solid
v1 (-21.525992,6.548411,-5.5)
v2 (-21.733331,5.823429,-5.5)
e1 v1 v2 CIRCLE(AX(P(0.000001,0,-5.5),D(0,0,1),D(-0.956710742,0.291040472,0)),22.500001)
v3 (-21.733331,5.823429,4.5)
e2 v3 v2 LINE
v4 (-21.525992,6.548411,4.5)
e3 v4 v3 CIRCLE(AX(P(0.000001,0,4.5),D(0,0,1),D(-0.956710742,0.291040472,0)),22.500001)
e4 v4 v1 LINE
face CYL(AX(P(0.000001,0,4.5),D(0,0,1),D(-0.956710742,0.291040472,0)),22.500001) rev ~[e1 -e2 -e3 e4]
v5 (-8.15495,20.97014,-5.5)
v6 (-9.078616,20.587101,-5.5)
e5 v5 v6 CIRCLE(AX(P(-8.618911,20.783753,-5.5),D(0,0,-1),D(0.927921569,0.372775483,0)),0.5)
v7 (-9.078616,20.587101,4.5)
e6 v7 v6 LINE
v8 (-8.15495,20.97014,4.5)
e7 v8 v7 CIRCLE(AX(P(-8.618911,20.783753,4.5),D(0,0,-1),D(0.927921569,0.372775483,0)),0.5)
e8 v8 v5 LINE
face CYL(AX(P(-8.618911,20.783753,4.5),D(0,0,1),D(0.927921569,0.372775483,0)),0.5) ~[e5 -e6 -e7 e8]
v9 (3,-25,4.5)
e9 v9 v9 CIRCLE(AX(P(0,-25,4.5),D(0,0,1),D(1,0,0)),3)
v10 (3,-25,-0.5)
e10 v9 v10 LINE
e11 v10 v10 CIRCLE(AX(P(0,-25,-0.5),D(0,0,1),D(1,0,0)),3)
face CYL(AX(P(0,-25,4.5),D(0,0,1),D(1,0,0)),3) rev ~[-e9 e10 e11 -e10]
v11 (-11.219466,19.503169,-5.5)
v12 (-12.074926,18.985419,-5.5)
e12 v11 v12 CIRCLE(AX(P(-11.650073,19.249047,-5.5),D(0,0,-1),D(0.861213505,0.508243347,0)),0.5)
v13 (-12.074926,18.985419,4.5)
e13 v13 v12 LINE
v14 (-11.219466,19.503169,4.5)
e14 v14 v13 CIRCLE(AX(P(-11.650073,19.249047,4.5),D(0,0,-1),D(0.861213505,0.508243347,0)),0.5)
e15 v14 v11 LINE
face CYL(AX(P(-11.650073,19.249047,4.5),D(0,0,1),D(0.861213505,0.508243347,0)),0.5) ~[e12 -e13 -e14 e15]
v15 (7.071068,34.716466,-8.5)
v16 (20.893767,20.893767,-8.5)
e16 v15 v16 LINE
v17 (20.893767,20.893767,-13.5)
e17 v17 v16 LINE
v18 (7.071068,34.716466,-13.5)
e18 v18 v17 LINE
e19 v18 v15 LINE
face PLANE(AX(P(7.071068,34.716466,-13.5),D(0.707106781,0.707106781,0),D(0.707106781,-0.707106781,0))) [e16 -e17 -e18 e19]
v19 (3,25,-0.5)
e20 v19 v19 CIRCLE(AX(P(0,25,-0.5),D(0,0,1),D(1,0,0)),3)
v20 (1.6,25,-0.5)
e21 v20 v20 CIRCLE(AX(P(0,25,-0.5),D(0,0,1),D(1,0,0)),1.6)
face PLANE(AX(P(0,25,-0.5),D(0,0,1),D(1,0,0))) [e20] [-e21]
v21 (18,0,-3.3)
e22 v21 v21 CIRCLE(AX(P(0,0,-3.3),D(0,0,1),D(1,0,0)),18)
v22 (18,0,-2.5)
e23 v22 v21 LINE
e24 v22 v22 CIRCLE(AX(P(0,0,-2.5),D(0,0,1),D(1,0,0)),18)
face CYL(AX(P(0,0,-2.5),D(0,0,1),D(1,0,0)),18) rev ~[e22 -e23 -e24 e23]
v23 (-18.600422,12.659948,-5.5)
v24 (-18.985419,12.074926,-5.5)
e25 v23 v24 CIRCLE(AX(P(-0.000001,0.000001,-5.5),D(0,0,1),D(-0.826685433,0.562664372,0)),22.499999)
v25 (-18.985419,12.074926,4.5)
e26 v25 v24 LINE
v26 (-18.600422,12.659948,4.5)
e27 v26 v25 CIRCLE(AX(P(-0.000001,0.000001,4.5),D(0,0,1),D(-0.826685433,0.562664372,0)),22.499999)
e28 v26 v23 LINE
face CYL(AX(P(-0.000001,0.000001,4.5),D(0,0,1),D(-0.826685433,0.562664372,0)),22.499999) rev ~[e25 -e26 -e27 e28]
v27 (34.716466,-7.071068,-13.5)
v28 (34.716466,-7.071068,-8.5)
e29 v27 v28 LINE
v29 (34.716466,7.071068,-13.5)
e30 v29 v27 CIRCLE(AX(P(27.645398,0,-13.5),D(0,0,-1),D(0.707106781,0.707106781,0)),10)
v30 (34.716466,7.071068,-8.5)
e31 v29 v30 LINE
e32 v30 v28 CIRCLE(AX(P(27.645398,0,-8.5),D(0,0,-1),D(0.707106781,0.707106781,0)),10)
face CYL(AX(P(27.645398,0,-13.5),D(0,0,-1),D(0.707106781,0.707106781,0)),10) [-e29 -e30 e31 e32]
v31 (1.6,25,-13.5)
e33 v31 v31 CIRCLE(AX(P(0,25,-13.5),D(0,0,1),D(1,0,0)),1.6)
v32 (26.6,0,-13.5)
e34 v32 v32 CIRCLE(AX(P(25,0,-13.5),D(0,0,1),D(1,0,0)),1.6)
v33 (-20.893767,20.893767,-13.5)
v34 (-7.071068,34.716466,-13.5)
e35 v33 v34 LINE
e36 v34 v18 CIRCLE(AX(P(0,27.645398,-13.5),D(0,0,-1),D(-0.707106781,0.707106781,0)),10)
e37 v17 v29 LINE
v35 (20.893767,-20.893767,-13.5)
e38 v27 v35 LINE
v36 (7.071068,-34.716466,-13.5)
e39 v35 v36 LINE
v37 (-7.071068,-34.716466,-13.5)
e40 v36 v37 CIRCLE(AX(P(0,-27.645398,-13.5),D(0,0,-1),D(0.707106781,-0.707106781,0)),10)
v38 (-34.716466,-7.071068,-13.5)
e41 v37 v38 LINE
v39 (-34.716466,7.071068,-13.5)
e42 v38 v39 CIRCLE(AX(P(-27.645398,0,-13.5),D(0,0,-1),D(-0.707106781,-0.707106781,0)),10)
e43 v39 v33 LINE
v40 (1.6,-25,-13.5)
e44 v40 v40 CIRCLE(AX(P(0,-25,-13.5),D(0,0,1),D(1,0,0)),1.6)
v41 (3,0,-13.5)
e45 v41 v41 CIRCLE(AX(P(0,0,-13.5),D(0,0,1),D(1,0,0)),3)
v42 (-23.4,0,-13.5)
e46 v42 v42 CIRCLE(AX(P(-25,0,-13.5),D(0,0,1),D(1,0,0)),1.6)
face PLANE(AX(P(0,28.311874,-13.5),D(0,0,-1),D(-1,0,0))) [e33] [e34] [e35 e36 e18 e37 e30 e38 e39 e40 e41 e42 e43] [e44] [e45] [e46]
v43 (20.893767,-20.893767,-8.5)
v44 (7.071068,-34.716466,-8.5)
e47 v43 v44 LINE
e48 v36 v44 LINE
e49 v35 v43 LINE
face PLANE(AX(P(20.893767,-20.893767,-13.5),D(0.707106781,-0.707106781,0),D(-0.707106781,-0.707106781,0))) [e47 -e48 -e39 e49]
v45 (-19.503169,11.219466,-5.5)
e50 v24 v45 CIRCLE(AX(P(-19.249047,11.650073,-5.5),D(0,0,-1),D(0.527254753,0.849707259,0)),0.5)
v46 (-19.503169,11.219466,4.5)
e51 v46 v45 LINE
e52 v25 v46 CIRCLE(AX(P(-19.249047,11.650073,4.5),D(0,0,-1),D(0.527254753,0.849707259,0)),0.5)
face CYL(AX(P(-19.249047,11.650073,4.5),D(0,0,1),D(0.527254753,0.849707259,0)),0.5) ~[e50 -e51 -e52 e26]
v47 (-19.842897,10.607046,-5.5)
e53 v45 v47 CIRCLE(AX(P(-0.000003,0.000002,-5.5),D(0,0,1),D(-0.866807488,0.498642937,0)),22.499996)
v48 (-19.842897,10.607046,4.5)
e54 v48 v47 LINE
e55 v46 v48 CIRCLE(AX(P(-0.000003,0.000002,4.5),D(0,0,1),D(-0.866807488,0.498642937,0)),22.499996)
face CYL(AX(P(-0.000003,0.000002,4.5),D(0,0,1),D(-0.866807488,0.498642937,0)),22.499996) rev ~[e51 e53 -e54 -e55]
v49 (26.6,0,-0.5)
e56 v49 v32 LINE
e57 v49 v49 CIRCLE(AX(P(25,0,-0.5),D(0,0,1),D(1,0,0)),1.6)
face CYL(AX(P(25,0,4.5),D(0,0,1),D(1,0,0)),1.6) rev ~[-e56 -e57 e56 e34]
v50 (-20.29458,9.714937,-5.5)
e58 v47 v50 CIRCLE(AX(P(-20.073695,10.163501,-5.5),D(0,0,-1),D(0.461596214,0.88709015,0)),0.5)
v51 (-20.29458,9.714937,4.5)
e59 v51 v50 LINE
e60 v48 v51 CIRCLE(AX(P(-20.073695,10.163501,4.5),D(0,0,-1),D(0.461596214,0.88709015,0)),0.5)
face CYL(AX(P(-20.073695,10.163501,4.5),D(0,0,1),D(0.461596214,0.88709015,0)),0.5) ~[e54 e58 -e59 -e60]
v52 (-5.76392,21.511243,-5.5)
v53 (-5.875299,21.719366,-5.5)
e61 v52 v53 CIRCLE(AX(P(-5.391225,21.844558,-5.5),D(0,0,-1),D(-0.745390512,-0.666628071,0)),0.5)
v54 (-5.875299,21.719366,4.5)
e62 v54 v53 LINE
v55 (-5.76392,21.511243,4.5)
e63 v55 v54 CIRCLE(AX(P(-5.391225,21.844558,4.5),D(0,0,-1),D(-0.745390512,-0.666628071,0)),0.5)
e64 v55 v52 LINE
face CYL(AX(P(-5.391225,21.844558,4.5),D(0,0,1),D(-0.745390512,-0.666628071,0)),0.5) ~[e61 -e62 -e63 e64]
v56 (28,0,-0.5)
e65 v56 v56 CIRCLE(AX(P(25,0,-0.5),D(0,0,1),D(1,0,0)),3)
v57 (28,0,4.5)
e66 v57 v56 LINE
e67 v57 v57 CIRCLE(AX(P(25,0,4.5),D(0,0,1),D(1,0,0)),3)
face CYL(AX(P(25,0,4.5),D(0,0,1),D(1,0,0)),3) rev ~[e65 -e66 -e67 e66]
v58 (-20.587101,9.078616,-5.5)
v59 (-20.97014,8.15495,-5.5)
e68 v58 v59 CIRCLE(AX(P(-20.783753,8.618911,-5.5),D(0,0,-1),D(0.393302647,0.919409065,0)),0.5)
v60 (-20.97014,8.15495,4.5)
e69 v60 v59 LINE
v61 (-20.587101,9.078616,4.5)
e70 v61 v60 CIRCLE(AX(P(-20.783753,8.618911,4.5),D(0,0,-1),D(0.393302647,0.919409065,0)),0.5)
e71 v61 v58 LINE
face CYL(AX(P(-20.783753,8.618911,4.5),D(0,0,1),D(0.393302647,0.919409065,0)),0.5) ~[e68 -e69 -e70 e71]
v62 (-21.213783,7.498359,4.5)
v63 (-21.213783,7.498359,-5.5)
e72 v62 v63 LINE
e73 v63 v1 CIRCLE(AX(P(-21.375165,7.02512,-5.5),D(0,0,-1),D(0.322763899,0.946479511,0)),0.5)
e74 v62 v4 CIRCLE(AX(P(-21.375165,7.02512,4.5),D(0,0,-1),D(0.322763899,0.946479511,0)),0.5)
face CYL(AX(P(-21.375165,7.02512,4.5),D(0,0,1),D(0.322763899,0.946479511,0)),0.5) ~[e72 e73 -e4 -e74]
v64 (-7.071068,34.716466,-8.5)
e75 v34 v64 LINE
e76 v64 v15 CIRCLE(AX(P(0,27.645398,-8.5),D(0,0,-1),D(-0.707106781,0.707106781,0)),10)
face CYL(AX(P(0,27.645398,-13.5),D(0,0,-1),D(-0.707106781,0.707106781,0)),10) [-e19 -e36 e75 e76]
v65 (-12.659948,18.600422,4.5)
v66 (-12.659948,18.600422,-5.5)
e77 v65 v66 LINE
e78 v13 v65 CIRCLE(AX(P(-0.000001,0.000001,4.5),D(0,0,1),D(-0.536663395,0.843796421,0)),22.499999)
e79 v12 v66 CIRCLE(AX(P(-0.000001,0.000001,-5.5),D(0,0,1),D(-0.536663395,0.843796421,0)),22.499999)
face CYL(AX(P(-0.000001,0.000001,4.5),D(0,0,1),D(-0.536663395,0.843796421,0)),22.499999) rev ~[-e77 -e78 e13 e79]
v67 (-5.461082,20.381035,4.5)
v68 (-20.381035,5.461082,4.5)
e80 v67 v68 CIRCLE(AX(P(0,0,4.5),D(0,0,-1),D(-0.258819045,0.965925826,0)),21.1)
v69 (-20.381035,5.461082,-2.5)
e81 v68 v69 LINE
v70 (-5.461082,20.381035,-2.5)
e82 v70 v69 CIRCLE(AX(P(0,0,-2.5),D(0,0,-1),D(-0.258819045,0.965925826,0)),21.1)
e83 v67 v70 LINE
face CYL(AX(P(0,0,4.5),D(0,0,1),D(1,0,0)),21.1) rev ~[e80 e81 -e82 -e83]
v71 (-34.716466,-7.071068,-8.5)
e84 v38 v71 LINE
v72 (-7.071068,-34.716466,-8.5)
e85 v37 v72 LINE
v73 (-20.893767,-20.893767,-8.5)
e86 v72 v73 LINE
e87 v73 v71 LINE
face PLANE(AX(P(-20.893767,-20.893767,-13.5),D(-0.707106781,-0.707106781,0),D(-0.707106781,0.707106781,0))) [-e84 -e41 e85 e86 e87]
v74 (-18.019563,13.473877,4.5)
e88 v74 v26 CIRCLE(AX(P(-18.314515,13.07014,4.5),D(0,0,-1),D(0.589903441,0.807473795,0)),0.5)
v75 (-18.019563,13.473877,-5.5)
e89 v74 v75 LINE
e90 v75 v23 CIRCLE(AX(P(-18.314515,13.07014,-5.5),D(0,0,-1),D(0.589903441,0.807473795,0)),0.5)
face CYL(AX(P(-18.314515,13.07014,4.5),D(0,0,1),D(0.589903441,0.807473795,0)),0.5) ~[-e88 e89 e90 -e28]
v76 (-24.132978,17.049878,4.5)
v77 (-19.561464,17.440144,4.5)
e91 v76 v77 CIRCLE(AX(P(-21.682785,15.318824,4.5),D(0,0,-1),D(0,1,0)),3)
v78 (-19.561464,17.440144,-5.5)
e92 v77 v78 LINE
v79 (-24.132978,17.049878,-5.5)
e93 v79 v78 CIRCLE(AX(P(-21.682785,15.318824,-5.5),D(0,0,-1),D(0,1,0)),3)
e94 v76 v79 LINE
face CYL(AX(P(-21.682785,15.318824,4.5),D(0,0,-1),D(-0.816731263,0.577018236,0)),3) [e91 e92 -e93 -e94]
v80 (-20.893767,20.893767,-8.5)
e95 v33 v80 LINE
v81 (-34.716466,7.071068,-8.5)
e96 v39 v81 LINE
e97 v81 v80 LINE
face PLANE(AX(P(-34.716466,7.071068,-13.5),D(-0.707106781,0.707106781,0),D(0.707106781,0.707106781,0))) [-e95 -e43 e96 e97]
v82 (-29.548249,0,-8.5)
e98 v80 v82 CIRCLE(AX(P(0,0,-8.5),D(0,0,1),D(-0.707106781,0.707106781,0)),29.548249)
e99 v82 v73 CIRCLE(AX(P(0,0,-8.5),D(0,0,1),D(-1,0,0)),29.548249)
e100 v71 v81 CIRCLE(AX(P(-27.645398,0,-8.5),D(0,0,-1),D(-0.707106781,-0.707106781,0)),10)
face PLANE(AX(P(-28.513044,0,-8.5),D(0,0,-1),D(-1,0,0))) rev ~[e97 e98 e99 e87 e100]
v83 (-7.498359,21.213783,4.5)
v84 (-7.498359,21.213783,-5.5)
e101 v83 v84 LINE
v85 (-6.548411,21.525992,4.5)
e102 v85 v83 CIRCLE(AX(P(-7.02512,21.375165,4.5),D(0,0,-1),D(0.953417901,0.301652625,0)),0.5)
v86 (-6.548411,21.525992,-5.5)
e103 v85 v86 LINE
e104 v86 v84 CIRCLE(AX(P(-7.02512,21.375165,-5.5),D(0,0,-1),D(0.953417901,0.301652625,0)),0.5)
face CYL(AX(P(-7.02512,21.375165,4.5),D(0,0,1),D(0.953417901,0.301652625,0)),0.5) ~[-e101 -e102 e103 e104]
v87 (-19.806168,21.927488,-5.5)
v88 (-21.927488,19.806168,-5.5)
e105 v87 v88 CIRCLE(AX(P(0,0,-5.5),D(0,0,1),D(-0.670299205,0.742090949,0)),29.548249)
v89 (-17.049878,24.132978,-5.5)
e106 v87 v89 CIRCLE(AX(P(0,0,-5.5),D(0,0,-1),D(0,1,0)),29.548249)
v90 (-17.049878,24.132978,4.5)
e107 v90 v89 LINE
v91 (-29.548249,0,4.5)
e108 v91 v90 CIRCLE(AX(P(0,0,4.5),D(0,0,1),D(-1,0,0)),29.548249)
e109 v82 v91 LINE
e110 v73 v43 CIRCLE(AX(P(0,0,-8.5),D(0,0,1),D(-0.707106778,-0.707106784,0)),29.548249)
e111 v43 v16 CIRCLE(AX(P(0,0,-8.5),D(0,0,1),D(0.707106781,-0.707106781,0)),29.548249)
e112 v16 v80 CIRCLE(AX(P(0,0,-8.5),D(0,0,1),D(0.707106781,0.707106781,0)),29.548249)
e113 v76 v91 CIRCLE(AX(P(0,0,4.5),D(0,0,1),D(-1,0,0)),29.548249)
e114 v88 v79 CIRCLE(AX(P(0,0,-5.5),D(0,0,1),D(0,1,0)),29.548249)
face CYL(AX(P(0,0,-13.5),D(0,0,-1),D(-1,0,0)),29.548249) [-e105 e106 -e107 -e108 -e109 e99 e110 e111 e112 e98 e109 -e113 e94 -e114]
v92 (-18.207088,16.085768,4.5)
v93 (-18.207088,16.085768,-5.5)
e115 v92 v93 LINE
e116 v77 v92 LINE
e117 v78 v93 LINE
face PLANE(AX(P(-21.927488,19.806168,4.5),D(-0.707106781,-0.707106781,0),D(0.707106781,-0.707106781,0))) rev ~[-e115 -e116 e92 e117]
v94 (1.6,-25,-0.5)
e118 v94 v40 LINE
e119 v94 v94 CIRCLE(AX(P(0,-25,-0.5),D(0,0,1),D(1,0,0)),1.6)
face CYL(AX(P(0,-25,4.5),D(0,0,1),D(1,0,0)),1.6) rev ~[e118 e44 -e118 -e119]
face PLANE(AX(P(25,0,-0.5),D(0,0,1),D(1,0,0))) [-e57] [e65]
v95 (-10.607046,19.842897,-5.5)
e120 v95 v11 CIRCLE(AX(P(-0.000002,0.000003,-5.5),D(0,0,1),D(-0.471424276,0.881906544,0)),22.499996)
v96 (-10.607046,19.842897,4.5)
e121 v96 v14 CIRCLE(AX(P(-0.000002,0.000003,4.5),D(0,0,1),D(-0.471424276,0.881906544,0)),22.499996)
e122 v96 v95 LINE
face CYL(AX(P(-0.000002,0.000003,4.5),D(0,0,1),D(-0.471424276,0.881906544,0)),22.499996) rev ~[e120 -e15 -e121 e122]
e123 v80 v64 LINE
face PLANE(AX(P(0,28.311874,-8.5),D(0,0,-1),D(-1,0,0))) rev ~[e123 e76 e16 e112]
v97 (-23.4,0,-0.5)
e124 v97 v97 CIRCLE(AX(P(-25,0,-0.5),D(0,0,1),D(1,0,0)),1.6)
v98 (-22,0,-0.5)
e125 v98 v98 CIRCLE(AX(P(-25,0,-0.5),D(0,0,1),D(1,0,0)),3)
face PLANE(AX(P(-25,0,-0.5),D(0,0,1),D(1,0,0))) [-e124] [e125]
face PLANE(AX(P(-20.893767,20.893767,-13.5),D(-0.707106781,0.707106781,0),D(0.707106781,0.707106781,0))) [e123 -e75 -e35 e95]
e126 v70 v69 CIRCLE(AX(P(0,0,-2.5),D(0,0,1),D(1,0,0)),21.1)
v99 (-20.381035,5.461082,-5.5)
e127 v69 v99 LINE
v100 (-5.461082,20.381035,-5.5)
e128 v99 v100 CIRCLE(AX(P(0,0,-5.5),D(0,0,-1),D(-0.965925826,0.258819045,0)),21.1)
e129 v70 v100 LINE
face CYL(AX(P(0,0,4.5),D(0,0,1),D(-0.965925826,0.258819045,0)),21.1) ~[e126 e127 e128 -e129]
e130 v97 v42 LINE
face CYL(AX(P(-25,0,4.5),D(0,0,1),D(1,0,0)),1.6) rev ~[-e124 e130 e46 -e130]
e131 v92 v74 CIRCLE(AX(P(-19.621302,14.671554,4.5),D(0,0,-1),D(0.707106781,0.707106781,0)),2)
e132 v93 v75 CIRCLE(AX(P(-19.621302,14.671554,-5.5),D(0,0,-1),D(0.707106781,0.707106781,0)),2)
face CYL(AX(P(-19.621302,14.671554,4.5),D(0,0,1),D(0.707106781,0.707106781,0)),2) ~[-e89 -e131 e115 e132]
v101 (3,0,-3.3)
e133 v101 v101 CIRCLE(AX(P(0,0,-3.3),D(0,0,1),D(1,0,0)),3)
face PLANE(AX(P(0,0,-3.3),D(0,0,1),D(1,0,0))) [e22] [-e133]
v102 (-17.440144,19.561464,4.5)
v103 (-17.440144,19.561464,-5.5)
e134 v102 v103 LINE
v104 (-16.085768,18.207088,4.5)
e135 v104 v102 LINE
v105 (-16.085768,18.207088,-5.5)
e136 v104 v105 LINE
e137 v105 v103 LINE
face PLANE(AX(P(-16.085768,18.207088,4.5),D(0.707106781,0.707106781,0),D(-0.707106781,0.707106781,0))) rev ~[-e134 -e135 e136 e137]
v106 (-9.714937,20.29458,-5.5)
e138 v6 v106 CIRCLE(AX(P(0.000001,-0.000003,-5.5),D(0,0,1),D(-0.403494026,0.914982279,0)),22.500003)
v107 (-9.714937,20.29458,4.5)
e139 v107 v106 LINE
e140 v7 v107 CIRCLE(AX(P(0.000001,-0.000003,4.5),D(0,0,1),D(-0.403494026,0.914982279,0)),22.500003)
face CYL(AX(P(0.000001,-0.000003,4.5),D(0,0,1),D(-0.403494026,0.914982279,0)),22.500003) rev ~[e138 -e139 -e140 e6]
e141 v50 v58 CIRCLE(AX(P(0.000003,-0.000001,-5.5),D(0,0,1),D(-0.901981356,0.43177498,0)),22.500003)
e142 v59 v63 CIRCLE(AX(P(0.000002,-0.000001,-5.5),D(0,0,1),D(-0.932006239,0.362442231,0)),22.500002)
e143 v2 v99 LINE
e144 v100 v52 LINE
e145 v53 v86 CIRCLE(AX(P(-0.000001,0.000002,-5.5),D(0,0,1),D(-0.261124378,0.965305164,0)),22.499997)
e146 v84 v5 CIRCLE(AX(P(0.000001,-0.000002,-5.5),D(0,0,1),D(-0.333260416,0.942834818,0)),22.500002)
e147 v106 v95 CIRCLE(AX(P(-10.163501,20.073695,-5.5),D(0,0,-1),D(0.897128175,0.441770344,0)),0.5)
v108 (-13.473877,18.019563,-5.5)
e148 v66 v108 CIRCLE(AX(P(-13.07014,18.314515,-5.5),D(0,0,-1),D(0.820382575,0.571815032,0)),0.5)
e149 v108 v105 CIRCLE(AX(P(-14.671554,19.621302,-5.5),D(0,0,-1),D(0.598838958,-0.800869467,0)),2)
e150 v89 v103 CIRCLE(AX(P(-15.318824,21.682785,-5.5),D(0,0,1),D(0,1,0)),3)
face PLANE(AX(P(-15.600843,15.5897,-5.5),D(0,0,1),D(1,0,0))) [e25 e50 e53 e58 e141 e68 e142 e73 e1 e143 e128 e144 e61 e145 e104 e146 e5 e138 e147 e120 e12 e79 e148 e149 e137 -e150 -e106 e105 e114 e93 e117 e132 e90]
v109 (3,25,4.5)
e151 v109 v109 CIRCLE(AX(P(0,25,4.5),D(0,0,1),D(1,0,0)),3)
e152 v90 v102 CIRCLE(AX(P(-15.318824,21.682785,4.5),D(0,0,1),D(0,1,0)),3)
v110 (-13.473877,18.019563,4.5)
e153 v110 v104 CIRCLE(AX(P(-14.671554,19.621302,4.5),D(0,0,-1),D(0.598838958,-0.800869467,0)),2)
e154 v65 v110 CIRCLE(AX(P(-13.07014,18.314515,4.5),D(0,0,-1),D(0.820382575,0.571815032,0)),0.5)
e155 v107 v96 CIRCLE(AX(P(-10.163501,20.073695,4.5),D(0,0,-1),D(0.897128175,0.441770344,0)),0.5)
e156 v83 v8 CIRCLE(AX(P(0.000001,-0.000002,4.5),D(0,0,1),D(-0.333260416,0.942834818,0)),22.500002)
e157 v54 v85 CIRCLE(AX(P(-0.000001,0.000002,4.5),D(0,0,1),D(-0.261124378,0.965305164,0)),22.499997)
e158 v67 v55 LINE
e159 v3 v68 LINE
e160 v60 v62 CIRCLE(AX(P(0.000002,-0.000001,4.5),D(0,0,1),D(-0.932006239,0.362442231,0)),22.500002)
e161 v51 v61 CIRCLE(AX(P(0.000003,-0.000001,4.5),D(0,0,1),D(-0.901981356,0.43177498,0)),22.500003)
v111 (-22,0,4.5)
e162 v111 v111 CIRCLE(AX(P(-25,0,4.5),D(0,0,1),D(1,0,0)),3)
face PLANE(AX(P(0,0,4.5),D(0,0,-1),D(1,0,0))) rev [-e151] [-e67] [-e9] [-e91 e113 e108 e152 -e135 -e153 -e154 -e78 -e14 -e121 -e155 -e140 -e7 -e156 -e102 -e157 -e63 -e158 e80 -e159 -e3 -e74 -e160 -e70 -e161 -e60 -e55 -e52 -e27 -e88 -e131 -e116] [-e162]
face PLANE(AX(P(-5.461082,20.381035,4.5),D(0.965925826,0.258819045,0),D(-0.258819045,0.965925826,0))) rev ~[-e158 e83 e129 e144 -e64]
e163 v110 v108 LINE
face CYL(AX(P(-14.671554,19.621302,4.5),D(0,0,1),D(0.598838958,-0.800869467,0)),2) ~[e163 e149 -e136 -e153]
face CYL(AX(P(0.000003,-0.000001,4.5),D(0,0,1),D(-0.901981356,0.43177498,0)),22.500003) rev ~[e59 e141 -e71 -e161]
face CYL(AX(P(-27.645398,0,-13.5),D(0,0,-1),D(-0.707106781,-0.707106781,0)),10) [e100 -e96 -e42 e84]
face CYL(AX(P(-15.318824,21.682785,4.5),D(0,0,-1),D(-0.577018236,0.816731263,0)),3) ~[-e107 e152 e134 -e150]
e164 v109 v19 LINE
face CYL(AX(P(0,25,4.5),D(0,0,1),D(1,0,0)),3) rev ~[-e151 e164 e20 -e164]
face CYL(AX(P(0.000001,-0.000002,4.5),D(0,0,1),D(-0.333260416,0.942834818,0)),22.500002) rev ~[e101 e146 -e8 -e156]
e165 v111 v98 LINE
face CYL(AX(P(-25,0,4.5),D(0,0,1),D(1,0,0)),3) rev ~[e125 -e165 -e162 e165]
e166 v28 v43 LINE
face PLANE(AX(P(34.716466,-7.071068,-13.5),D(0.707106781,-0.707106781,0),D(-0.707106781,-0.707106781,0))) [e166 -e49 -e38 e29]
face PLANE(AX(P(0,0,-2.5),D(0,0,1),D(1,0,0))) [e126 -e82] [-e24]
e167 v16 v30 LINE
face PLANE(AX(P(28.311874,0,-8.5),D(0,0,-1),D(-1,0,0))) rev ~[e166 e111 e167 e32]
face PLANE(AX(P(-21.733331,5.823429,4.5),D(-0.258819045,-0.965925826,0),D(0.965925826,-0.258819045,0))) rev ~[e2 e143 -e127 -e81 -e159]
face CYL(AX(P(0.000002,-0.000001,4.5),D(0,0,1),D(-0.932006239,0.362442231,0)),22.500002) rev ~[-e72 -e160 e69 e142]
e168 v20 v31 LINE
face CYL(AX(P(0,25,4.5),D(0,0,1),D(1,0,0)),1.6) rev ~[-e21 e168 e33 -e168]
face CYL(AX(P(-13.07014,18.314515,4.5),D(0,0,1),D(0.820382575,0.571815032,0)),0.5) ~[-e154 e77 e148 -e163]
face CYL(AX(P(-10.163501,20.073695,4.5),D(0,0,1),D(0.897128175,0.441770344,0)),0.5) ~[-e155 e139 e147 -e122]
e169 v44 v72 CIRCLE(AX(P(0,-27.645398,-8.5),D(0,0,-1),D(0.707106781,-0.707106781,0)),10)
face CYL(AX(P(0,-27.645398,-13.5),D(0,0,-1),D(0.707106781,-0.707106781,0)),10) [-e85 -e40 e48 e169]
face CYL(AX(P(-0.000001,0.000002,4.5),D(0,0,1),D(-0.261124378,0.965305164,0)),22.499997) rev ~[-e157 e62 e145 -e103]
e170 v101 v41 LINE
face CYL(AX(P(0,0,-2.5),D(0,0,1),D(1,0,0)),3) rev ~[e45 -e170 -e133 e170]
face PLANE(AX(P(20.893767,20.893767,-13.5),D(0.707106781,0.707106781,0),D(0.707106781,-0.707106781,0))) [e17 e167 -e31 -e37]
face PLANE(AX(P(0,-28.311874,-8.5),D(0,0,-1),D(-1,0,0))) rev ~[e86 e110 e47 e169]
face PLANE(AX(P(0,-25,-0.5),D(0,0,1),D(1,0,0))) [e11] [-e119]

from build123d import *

# Parameters (mm, degrees)
SKETCH_01_W               = 8.999999864
SKETCH_01_H               = 30.367248618
CUT_EXTRUDE_01_DEPTH      = 4.499999932
CUT_EXTRUDE_01_DEPTH_BACK = 4.499999932
SKETCH_433_W              = 8.999999864
SKETCH_433_H              = 0.009842519
SKETCH_5_R                = 36.024182257
SKETCH_5_R_2              = 29.54824863
CUT_EXTRUDE_2_DEPTH       = 10
EXTRUDE_START             = 9
SKETCH_6_R                = 29.54824863
EXTRUDE_1_DEPTH           = 9
SKETCH_7_R                = 21.1
CUT_EXTRUDE_3_DEPTH       = 7
SKETCH_8_R                = 1.6
CUT_EXTRUDE_4_DEPTH       = 34
SKETCH_9_R                = 3
CUT_EXTRUDE_5_DEPTH       = 34
SKETCH_10_R               = 18
CUT_EXTRUDE_6_DEPTH       = 0.8
SKETCH_12_R               = 3
CUT_EXTRUDE_8_DEPTH       = 5
EXTRUDE_2_DEPTH           = 5
CUT_EXTRUDE_9_DEPTH       = 10
FILLET_1_R                = 3


with BuildPart() as part:
    # Sketch 01 → 同步带轮01 (revolve)
    with BuildSketch(Plane(origin=(0, 0, 0), x_dir=(0, 0, -1), z_dir=(1, 0, 0)), mode=Mode.PRIVATE) as revolve_01_sk:
        with Locations((0, 15.183624309)):
            Rectangle(SKETCH_01_W, SKETCH_01_H)
    revolve(revolve_01_sk.sketch.rotate(Axis((0, 0, 0), (0, 0, -1)), 90), axis=Axis((0, 0, 0), (0, 0, -1)))

    # Sketch 01 2 → 齿拉伸切除同步带轮01 (cut, two sides: drawn at the far end of the back side and taken through both)
    with BuildSketch(Plane.XY.offset(-CUT_EXTRUDE_01_DEPTH_BACK)):
        with BuildLine():
            Line((-0.813748126, 30.356343696), (0, 32.907248579))
            Line((0, 32.907248579), (0.813748126, 30.356343696))
            ThreePointArc((0.813748126, 30.356343696), (0.662957144, 30.297406109), (0.599999991, 30.148248621))
            ThreePointArc((0.599999991, 30.148248621), (0, 29.54824863), (-0.599999991, 30.148248621))
            ThreePointArc((-0.599999991, 30.148248621), (-0.662957144, 30.297406109), (-0.813748126, 30.356343696))
        make_face()
    extrude(amount=CUT_EXTRUDE_01_DEPTH + CUT_EXTRUDE_01_DEPTH_BACK, mode=Mode.SUBTRACT)

    # Sketch 433 → Cut-Revolve 471 (revolve, cut)
    with BuildSketch(Plane(origin=(0, 0, 0), x_dir=(0, 0, -1), z_dir=(1, 0, 0)), mode=Mode.PRIVATE) as cut_revolve_471_sk:
        with Locations((0, 0.00492126)):
            Rectangle(SKETCH_433_W, SKETCH_433_H)
    revolve(cut_revolve_471_sk.sketch.rotate(Axis((0, 0, 0), (0, 0, -1)), 90), axis=Axis((0, 0, 0), (0, 0, -1)), mode=Mode.SUBTRACT)

    # 草图5 → 切除-拉伸2 (cut)
    with BuildSketch(Plane(origin=(0, 0, -4.499999932), x_dir=(-1, 0, 0), z_dir=(0, 0, -1))):
        Circle(SKETCH_5_R)
        Circle(SKETCH_5_R_2, mode=Mode.SUBTRACT)
    extrude(amount=-CUT_EXTRUDE_2_DEPTH, mode=Mode.SUBTRACT)

    # 草图6 → 凸台-拉伸1 (add)
    with BuildSketch(Plane(origin=(0, 0, -4.499999932), x_dir=(-1, 0, 0), z_dir=(0, 0, -1)).offset(EXTRUDE_START)):
        Circle(SKETCH_6_R)
    extrude(amount=-EXTRUDE_1_DEPTH)

    # 草图7 → 切除-拉伸3 (cut)
    with BuildSketch(Plane.XY.offset(4.499999932)):
        Circle(SKETCH_7_R)
    extrude(amount=-CUT_EXTRUDE_3_DEPTH, mode=Mode.SUBTRACT)

    # 草图8 → 切除-拉伸4 (cut)
    with BuildSketch(Plane.XY.offset(4.499999932)):
        with Locations((0, 25)):
            Circle(SKETCH_8_R)
        with Locations((25, 0)):
            Circle(SKETCH_8_R)
        with Locations((0, -25)):
            Circle(SKETCH_8_R)
        with Locations((-25, 0)):
            Circle(SKETCH_8_R)
    extrude(amount=-CUT_EXTRUDE_4_DEPTH, mode=Mode.SUBTRACT)

    # 草图9 → 切除-拉伸5 (cut)
    with BuildSketch(Plane.XY.offset(-2.500000068)):
        Circle(SKETCH_9_R)
    extrude(amount=-CUT_EXTRUDE_5_DEPTH, mode=Mode.SUBTRACT)

    # 草图10 → 切除-拉伸6 (cut)
    with BuildSketch(Plane.XY.offset(-2.500000068)):
        Circle(SKETCH_10_R)
    extrude(amount=-CUT_EXTRUDE_6_DEPTH, mode=Mode.SUBTRACT)

    # 草图12 → 切除-拉伸8 (cut)
    with BuildSketch(Plane.XY.offset(4.499999932)):
        with Locations((0, -25)):
            Circle(SKETCH_12_R)
        with Locations((-25, 0)):
            Circle(SKETCH_12_R)
        with Locations((0, 25)):
            Circle(SKETCH_12_R)
        with Locations((25, 0)):
            Circle(SKETCH_12_R)
    extrude(amount=-CUT_EXTRUDE_8_DEPTH, mode=Mode.SUBTRACT)

    # 草图13 → 凸台-拉伸2 (add)
    with BuildSketch(Plane(origin=(0, 0, -13.499999932), x_dir=(-1, 0, 0), z_dir=(0, 0, -1))):
        with BuildLine():
            Line((-7.071067812, 34.716466145), (-20.893766978, 20.893766978))
            ThreePointArc((-20.893766978, 20.893766978), (0, 29.54824863), (20.893766978, 20.893766978))
            Line((20.893766978, 20.893766978), (7.071067812, 34.716466145))
            ThreePointArc((7.071067812, 34.716466145), (0, 37.645398333), (-7.071067812, 34.716466145))
        make_face()
        with BuildLine():
            Line((-34.716466145, -7.071067812), (-20.893766978, -20.893766978))
            ThreePointArc((-20.893766978, -20.893766978), (-29.54824863, 0), (-20.893766978, 20.893766978))
            Line((-20.893766978, 20.893766978), (-34.716466145, 7.071067812))
            ThreePointArc((-34.716466145, 7.071067812), (-37.645398333, 0), (-34.716466145, -7.071067812))
        make_face()
        with BuildLine():
            ThreePointArc((-7.071067812, -34.716466145), (0, -37.645398333), (7.071067812, -34.716466145))
            Line((7.071067812, -34.716466145), (20.893766881, -20.893767076))
            ThreePointArc((20.893766881, -20.893767076), (-6.9e-08, -29.54824863), (-20.893766978, -20.893766978))
            Line((-20.893766978, -20.893766978), (-7.071067812, -34.716466145))
        make_face()
        with BuildLine():
            ThreePointArc((29.54824863, 0), (27.299022104, -11.30762527), (20.893766881, -20.893767076))
            Line((20.893766881, -20.893767076), (34.716466145, -7.071067812))
            ThreePointArc((34.716466145, -7.071067812), (37.645398333, 0), (34.716466145, 7.071067812))
            Line((34.716466145, 7.071067812), (20.893766978, 20.893766978))
            ThreePointArc((20.893766978, 20.893766978), (27.299022131, 11.307625206), (29.54824863, 0))
        make_face()
    extrude(amount=-EXTRUDE_2_DEPTH)

    # 草图14 → 切除-拉伸9 (cut)
    with BuildSketch(Plane.XY.offset(4.499999932)):
        with BuildLine():
            Line((-21.733331092, 5.823428515), (-20.381034935, 5.461081852))
            ThreePointArc((-20.381034935, 5.461081852), (-14.919953083, 14.919953083), (-5.461081852, 20.381034935))
            Line((-5.461081852, 20.381034935), (-5.763920314, 21.511243463))
            ThreePointArc((-5.763920314, 21.511243463), (-5.832067357, 21.608637877), (-5.875298538, 21.719366176))
            ThreePointArc((-5.875298538, 21.719366176), (-6.212606996, 21.625298017), (-6.548410612, 21.525991695))
            ThreePointArc((-6.548410612, 21.525991695), (-6.869005795, 20.900161707), (-7.498359319, 21.213783433))
            ThreePointArc((-7.498359319, 21.213783433), (-7.827602785, 21.094516696), (-8.154950219, 20.970140365))
            ThreePointArc((-8.154950219, 20.970140365), (-8.427379648, 20.321891454), (-9.078615536, 20.5871013))
            ThreePointArc((-9.078615536, 20.5871013), (-9.397914516, 20.443316823), (-9.714937098, 20.294580488))
            ThreePointArc((-9.714937098, 20.294580488), (-9.937645604, 19.627613198), (-10.60704626, 19.842897209))
            ThreePointArc((-10.60704626, 19.842897209), (-10.914578029, 19.675415789), (-11.219466026, 19.503168514))
            ThreePointArc((-11.219466026, 19.503168514), (-11.391182272, 18.821290244), (-12.074926408, 18.985419464))
            ThreePointArc((-12.074926408, 18.985419464), (-12.368935412, 18.795197173), (-12.659948365, 18.600422237))
            ThreePointArc((-12.659948365, 18.600422237), (-12.779692104, 17.907525505), (-13.47387655, 18.019563))
            ThreePointArc((-13.47387655, 18.019563), (-14.814779333, 17.626436866), (-16.085768028, 18.207088371))
            Line((-16.085768028, 18.207088371), (-19.806167535, 21.927487879))
            ThreePointArc((-19.806167535, 21.927487879), (-20.893766978, 20.893766978), (-21.927487879, 19.806167535))
            Line((-21.927487879, 19.806167535), (-18.207088371, 16.085768028))
            ThreePointArc((-18.207088371, 16.085768028), (-17.626436866, 14.814779333), (-18.019563, 13.47387655))
            ThreePointArc((-18.019563, 13.47387655), (-17.907525505, 12.779692104), (-18.600422237, 12.659948365))
            ThreePointArc((-18.600422237, 12.659948365), (-18.795197173, 12.368935412), (-18.985419464, 12.074926408))
            ThreePointArc((-18.985419464, 12.074926408), (-18.821290244, 11.391182272), (-19.503168514, 11.219466026))
            ThreePointArc((-19.503168514, 11.219466026), (-19.675415789, 10.914578029), (-19.842897209, 10.60704626))
            ThreePointArc((-19.842897209, 10.60704626), (-19.627613198, 9.937645604), (-20.294580488, 9.714937098))
            ThreePointArc((-20.294580488, 9.714937098), (-20.443316823, 9.397914516), (-20.5871013, 9.078615536))
            ThreePointArc((-20.5871013, 9.078615536), (-20.321891454, 8.427379648), (-20.970140365, 8.154950219))
            ThreePointArc((-20.970140365, 8.154950219), (-21.094516696, 7.827602785), (-21.213783433, 7.498359319))
            ThreePointArc((-21.213783433, 7.498359319), (-20.900161707, 6.869005795), (-21.525991695, 6.548410612))
            ThreePointArc((-21.525991695, 6.548410612), (-21.63269867, 6.186788202), (-21.733331092, 5.823428515))
        make_face()
    extrude(amount=-CUT_EXTRUDE_9_DEPTH, mode=Mode.SUBTRACT)

    # 圆角1
    fillet_1_edges = [part.edges().sort_by_distance(p)[0] for p in [
        (-19.806167535, 21.927487879, -0.500000068),
        (-21.927487879, 19.806167535, -0.500000068),
    ]]
    fillet(fillet_1_edges, radius=FILLET_1_R)


solid = part.part
